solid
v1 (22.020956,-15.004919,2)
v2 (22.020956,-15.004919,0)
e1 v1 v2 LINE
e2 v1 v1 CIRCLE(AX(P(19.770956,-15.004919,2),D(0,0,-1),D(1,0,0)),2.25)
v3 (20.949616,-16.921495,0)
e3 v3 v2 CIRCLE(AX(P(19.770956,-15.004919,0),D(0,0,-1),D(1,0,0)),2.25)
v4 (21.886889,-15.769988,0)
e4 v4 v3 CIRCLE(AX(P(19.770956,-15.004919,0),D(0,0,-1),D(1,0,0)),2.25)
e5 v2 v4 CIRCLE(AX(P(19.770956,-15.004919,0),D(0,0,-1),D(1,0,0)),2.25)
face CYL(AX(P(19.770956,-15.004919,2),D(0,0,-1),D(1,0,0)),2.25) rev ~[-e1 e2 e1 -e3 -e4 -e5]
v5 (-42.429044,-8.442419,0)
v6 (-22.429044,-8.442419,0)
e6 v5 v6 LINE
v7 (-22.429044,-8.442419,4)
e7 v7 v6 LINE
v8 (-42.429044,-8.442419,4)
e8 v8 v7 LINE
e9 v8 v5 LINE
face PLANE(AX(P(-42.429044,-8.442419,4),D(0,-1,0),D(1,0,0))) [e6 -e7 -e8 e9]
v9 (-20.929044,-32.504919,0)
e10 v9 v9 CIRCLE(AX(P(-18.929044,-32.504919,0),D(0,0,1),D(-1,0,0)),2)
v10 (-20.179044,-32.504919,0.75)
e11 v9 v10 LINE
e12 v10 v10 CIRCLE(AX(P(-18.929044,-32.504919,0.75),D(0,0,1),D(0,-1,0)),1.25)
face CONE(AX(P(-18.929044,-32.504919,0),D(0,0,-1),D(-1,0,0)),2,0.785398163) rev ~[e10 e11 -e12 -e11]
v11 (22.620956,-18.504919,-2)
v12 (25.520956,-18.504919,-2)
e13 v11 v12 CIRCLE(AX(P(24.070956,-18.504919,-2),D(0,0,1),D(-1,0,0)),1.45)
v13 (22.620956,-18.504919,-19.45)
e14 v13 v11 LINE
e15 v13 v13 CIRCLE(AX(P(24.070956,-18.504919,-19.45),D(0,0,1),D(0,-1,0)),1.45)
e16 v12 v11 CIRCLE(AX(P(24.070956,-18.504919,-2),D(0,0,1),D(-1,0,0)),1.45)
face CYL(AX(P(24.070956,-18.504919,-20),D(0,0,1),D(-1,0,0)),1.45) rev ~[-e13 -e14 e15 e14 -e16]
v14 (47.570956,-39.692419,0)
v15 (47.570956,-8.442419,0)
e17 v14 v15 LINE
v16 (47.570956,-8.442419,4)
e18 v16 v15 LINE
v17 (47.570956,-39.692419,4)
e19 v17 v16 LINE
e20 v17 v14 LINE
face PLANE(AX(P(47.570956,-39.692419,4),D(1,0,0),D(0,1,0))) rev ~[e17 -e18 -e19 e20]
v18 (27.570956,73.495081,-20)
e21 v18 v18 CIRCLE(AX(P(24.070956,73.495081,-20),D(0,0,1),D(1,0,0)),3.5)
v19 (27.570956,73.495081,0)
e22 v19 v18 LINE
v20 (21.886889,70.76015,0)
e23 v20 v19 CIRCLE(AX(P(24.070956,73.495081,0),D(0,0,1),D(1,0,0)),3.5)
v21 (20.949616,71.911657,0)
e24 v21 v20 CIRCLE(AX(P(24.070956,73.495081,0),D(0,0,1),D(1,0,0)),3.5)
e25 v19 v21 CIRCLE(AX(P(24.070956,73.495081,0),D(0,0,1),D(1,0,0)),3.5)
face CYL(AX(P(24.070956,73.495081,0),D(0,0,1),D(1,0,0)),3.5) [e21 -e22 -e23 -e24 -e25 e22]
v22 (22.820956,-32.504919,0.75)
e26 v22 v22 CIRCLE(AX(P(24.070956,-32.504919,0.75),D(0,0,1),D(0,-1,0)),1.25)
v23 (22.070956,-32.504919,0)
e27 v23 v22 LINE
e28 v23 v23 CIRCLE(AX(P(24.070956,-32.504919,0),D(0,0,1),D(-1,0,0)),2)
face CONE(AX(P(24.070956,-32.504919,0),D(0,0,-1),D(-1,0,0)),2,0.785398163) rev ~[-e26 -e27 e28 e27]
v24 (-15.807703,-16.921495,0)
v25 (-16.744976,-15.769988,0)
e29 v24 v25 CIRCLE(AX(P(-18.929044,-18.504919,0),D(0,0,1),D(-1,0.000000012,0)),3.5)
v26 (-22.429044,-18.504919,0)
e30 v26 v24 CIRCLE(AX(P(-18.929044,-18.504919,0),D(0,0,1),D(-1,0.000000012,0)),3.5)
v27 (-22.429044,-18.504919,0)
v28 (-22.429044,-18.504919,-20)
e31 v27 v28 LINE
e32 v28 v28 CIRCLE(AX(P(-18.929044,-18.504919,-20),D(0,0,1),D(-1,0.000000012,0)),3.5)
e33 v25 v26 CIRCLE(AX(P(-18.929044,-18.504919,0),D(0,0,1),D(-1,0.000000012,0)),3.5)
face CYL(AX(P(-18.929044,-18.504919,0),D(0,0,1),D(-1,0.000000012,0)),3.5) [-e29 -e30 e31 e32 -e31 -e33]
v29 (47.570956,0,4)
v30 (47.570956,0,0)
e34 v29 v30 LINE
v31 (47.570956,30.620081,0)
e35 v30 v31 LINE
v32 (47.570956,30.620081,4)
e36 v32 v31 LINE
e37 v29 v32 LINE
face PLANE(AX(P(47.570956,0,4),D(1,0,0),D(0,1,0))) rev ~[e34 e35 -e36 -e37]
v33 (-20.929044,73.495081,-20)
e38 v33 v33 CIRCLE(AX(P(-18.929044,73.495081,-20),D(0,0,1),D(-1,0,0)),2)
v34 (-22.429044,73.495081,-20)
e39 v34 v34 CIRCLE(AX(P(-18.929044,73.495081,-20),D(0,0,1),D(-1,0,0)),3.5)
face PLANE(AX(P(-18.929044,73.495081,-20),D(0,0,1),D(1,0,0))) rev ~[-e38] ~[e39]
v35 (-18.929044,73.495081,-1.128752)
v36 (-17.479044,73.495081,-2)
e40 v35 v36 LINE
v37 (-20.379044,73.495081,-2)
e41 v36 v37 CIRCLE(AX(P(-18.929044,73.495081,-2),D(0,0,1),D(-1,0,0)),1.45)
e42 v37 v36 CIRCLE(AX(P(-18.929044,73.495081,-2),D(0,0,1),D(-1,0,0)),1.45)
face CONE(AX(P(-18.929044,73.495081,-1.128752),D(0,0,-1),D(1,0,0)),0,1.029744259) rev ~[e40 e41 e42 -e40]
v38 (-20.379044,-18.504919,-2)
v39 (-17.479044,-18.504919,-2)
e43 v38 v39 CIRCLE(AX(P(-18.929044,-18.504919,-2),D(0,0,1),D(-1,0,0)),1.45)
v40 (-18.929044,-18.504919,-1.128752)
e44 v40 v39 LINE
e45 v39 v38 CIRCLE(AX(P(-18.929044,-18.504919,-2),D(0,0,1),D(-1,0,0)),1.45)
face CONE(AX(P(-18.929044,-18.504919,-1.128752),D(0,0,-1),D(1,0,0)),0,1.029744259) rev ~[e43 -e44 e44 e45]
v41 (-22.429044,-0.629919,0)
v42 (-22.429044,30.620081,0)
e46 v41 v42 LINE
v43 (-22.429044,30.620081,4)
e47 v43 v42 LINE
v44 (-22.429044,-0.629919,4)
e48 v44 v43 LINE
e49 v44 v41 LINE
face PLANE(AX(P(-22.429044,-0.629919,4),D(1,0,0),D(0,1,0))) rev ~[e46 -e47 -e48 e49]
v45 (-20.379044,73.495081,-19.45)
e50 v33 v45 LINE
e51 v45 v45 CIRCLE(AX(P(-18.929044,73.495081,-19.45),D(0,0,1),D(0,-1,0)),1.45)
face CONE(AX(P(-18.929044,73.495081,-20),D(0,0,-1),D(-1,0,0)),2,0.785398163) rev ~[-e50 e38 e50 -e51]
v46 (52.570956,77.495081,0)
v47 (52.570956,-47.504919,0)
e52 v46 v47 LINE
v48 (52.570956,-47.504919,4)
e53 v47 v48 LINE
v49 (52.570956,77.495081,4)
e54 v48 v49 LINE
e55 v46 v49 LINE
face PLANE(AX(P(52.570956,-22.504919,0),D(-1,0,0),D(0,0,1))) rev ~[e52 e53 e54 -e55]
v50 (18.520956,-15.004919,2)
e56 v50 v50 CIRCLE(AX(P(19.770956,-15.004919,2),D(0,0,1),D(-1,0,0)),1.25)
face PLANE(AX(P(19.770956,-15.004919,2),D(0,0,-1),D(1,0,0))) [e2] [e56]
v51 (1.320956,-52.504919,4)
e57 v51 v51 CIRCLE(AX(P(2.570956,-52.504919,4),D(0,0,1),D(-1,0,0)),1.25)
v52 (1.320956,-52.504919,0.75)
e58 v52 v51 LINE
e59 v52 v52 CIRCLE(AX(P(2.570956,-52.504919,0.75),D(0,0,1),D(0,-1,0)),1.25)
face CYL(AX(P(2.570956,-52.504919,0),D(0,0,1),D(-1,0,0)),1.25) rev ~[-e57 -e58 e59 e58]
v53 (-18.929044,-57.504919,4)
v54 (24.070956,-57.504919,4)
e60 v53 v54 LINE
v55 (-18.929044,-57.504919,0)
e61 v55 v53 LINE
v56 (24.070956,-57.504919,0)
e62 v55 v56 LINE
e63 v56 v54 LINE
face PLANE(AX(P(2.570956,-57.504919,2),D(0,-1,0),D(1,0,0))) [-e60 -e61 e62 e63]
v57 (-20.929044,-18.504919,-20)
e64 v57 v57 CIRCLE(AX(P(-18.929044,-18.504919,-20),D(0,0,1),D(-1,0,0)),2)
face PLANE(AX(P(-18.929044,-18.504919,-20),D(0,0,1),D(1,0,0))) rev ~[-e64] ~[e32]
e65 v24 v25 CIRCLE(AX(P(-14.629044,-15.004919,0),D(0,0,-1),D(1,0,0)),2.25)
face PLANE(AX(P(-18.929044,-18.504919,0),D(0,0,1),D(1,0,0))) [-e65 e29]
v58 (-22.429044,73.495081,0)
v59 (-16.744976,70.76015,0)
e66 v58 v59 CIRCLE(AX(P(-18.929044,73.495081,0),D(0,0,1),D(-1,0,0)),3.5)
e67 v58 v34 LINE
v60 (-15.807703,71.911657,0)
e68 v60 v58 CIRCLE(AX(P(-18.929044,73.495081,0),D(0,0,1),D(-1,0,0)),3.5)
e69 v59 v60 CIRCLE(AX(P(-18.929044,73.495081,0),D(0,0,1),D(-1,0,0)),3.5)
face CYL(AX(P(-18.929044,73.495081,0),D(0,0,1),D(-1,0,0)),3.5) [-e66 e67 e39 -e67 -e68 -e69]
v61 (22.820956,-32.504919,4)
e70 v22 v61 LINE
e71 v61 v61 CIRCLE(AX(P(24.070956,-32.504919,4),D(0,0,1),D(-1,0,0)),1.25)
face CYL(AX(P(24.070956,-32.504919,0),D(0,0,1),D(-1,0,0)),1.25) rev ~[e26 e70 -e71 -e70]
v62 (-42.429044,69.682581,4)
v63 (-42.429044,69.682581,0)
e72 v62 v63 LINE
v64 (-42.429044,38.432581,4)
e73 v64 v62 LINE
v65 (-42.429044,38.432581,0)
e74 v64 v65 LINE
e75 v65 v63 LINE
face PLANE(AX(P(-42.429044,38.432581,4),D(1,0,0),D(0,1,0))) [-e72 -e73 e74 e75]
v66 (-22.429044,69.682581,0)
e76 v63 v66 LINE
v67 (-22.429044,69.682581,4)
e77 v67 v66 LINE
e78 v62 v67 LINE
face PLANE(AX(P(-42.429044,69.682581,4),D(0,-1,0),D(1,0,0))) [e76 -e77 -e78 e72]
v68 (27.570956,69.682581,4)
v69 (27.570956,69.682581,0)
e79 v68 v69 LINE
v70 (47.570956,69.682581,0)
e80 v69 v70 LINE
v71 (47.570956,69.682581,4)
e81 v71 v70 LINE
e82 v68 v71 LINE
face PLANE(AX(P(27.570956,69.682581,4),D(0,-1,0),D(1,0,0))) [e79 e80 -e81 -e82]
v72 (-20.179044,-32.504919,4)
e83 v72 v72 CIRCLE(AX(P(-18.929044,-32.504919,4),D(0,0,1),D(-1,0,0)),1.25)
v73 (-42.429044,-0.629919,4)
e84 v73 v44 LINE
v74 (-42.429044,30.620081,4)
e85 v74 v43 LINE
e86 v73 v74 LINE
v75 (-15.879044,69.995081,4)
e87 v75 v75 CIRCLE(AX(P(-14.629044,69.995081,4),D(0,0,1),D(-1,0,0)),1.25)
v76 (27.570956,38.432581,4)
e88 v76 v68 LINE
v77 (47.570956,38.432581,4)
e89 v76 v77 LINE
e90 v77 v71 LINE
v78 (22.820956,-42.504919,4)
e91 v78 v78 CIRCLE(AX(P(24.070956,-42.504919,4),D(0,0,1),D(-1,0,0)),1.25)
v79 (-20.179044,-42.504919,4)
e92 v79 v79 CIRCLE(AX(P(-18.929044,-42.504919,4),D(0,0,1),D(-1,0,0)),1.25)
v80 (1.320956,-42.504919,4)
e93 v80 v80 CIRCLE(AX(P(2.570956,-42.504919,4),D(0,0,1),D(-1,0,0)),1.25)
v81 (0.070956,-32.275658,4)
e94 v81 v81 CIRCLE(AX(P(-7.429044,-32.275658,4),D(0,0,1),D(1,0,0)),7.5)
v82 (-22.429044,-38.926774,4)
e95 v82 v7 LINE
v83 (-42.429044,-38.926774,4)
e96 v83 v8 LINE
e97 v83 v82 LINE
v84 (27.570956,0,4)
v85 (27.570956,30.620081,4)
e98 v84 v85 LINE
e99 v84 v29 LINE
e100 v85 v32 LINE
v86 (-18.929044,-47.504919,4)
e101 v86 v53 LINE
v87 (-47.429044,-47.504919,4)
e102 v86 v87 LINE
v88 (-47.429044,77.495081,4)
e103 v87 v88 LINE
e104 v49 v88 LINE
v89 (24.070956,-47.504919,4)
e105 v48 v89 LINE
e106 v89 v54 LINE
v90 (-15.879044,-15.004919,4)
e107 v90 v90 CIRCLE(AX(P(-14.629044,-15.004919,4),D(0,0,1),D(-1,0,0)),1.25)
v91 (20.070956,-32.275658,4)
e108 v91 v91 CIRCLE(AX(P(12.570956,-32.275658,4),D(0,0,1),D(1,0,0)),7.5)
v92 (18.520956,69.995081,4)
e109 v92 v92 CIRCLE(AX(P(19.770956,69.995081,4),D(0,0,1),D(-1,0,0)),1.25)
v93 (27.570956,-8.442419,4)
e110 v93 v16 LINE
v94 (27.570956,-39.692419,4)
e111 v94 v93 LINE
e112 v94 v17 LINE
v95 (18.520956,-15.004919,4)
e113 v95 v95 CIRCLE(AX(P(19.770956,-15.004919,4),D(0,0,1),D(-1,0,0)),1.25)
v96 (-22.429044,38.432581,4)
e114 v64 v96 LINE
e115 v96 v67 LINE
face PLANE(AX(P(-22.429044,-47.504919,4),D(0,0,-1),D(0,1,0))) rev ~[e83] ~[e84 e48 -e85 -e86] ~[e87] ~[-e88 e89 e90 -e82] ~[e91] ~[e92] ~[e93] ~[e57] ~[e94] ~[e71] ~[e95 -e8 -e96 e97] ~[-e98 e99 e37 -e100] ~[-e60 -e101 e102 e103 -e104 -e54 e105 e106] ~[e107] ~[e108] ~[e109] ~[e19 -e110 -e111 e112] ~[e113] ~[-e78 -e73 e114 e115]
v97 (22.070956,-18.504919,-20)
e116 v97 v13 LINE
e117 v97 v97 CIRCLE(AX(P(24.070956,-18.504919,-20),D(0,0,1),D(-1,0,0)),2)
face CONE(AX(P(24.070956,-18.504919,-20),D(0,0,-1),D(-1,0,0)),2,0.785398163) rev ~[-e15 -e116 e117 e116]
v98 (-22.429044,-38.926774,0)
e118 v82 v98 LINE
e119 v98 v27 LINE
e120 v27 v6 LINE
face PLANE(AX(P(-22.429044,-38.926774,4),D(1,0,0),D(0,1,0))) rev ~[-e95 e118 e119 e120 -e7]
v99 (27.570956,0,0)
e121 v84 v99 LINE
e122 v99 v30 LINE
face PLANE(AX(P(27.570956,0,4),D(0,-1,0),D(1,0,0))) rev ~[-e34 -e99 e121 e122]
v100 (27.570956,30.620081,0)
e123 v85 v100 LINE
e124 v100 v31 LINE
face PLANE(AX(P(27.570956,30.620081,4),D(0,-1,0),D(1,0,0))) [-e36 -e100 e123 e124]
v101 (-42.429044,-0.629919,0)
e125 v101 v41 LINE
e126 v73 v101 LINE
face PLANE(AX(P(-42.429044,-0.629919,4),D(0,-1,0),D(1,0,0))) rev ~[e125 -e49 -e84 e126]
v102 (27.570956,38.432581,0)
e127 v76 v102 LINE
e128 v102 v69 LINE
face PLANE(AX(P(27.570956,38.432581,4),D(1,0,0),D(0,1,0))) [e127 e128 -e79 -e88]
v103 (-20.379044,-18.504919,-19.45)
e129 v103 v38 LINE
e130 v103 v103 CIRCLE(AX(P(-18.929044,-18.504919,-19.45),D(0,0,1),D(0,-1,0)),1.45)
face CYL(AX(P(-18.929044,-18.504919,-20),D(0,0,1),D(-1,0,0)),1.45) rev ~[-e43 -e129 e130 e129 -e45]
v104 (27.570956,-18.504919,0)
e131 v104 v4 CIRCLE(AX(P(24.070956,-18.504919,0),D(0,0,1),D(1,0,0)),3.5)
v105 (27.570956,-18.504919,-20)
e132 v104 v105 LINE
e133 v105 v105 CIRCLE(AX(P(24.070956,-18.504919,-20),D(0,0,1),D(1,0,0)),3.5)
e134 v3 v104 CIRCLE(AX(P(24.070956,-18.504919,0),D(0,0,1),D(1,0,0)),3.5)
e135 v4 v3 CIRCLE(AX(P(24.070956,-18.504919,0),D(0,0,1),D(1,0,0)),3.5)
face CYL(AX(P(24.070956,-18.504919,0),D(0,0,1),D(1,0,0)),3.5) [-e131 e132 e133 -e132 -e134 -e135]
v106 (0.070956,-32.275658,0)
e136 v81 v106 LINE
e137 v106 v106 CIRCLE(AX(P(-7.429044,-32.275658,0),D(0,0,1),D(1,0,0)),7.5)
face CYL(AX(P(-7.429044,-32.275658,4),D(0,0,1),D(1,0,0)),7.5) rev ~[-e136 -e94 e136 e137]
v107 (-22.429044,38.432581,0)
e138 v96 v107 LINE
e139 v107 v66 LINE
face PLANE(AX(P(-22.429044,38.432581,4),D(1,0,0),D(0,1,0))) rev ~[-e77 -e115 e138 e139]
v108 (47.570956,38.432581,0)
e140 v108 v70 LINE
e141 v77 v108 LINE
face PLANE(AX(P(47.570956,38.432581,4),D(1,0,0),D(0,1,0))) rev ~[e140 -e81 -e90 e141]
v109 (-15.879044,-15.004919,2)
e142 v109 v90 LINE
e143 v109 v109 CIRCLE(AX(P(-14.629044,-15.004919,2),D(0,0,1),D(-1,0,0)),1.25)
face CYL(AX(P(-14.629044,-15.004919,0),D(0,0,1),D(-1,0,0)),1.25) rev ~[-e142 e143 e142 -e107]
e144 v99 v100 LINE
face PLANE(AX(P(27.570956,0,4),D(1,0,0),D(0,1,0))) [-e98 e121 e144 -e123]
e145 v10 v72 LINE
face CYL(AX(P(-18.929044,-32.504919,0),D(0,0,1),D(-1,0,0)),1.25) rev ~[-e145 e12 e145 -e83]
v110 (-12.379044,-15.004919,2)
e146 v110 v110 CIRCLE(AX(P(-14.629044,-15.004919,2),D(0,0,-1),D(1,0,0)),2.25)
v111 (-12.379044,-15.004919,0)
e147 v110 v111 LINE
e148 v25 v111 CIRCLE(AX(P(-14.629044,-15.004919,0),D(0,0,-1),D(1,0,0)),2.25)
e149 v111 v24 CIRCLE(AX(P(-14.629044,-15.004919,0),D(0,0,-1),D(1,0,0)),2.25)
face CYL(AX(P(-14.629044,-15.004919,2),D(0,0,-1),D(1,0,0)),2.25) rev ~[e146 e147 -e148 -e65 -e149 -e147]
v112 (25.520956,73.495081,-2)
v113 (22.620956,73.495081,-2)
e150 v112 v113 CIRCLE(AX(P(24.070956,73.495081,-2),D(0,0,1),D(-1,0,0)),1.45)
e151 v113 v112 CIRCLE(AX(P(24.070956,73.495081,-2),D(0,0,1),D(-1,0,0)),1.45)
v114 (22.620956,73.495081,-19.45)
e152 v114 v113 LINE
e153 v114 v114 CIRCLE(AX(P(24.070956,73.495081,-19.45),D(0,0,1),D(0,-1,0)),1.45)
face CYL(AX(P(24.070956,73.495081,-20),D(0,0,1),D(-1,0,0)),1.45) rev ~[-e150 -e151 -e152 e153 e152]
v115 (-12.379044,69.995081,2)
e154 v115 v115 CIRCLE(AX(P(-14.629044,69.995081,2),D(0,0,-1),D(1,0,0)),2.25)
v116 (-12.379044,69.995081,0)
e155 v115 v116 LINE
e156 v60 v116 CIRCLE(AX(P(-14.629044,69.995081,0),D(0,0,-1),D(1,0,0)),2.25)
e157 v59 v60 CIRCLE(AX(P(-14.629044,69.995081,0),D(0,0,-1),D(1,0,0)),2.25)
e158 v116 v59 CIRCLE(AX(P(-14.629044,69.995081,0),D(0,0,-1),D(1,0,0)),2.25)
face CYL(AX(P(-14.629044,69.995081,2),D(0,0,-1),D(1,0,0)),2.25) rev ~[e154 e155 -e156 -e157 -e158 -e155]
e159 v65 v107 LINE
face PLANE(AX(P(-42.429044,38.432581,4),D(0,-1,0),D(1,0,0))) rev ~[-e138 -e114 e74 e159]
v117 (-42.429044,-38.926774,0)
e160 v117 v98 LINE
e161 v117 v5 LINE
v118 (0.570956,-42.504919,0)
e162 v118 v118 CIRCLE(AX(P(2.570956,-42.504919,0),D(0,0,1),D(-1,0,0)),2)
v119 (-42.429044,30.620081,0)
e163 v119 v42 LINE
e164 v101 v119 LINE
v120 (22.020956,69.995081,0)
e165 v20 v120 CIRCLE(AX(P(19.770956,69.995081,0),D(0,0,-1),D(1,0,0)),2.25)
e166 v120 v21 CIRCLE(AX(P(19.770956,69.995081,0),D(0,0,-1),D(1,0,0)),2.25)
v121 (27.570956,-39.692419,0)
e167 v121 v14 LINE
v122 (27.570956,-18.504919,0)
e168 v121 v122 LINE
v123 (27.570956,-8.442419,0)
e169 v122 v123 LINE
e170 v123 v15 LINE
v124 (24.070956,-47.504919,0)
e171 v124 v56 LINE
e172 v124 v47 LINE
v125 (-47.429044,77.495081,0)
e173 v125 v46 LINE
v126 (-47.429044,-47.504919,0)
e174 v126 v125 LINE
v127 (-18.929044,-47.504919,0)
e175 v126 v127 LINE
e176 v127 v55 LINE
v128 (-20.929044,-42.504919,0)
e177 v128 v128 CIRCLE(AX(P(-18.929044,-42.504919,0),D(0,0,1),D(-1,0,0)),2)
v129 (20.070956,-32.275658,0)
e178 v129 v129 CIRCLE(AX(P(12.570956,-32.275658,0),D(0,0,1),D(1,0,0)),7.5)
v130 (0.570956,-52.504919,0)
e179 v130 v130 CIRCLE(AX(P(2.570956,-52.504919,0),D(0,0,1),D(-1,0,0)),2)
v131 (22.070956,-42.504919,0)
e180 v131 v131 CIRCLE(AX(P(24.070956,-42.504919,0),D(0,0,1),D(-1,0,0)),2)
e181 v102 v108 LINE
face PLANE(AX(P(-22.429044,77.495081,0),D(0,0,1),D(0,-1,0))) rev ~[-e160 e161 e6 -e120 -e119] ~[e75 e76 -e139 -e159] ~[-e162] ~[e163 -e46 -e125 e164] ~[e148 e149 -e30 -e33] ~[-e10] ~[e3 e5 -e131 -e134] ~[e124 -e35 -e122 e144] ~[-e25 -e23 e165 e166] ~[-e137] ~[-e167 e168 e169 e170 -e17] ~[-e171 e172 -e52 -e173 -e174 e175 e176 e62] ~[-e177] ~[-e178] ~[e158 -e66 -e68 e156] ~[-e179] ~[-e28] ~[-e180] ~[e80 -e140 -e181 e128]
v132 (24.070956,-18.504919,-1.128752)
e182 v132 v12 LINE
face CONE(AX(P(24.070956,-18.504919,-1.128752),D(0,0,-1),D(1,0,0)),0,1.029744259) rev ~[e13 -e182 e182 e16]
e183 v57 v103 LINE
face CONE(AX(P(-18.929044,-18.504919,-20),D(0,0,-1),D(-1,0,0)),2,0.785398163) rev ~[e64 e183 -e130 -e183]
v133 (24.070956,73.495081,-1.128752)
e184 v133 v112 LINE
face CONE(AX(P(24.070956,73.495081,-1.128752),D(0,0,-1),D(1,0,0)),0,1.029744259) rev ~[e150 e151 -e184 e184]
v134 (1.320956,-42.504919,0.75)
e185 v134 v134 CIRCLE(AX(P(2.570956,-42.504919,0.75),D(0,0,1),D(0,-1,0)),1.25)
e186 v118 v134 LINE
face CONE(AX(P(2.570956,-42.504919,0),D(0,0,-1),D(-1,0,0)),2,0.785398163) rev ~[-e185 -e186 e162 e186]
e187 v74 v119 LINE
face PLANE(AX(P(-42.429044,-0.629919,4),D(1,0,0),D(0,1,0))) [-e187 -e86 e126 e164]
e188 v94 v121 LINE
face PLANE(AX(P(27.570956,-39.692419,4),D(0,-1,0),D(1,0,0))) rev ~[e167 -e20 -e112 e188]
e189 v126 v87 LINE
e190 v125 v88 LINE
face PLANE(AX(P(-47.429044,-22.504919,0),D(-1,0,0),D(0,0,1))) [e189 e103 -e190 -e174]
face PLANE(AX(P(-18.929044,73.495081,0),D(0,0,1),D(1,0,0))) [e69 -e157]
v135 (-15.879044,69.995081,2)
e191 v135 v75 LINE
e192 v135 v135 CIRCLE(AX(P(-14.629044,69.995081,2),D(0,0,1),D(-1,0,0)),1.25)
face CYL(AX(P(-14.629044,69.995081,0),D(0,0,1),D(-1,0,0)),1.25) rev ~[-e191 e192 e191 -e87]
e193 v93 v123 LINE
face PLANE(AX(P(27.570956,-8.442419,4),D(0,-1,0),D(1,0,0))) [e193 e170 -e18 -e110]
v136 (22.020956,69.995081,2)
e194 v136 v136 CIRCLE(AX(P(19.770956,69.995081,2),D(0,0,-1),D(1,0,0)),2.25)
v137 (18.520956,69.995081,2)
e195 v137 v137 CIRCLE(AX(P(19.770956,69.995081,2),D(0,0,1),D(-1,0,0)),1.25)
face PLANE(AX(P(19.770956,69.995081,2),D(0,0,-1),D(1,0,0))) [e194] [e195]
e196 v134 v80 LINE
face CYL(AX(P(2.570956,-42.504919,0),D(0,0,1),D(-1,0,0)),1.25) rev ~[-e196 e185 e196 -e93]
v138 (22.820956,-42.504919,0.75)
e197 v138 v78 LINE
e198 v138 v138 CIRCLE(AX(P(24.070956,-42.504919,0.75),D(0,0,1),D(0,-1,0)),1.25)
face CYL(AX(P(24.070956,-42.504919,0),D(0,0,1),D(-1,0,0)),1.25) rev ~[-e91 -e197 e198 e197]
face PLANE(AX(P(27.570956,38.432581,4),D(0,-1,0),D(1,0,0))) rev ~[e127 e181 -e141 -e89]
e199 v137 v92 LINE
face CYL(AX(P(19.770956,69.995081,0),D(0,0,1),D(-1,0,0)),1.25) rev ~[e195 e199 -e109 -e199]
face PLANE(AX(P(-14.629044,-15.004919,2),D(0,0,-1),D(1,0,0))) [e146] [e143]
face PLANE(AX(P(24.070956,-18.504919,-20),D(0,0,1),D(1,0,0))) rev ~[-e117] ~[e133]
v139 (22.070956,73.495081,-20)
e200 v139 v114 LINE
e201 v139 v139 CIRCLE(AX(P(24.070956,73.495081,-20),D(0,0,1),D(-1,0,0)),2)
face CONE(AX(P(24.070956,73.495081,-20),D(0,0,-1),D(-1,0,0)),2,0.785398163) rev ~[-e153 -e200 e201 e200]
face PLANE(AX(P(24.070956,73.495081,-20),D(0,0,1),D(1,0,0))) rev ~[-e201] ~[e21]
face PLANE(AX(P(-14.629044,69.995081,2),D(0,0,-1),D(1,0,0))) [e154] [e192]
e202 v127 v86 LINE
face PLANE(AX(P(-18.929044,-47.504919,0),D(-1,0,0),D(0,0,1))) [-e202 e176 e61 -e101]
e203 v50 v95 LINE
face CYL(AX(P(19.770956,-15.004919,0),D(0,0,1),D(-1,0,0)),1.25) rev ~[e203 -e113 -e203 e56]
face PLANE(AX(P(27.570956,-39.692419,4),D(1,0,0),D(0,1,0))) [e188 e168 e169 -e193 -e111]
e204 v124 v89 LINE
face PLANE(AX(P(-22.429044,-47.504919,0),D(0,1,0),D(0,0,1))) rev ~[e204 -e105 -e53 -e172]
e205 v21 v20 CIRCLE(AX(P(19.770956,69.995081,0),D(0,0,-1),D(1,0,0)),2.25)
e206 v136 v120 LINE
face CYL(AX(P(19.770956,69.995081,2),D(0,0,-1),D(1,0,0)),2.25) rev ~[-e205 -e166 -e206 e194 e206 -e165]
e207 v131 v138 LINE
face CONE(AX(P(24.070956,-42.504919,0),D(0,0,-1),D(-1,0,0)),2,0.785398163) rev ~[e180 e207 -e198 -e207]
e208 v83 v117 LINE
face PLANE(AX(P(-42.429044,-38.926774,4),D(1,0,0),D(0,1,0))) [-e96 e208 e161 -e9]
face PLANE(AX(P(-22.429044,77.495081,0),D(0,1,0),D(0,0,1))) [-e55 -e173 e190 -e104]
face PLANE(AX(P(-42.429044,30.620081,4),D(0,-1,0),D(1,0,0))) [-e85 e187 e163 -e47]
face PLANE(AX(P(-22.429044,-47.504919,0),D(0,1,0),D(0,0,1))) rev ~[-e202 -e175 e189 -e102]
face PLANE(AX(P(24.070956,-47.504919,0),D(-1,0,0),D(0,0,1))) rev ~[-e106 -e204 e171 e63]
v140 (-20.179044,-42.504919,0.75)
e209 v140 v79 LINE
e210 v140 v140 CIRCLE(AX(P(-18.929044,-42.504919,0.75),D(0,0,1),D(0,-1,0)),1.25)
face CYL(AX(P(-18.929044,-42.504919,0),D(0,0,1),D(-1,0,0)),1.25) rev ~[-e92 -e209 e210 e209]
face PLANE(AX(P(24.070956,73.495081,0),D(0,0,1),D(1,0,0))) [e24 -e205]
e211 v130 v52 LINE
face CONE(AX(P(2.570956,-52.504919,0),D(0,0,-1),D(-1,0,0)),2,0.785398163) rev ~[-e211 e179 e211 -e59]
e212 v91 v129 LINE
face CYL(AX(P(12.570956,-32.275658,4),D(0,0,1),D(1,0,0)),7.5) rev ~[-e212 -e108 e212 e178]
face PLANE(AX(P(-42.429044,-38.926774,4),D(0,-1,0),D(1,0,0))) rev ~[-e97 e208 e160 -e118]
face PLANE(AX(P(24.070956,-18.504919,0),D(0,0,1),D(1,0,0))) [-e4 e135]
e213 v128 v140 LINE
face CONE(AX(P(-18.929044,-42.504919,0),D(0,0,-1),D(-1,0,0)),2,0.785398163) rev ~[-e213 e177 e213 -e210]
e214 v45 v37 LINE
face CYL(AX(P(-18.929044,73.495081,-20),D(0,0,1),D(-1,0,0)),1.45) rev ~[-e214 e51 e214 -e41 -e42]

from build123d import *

# Parameters (mm, degrees)
F4_R            = 3.5
F5_DEPTH        = 4
F6_D            = 2.5
F6_CBORE_D      = 4.5
F6_CBORE_DEPTH  = 2
F7_DEPTH        = 20
F9_D            = 2.9
F9_DEPTH        = 18
F9_CSINK_D      = 4
F9_CSINK_ANGLE  = 90
F9_TIP          = 0.8712478976
F11_D           = 2.9
F11_DEPTH       = 18
F11_CSINK_D     = 4
F11_CSINK_ANGLE = 90
F11_TIP         = 0.8712478976
F13_D           = 2.9
F13_DEPTH       = 18
F13_CSINK_D     = 4
F13_CSINK_ANGLE = 90
F13_TIP         = 0.8712478976
F15_D           = 2.9
F15_DEPTH       = 18
F15_CSINK_D     = 4
F15_CSINK_ANGLE = 90
F15_TIP         = 0.8712478976
F16_DEPTH       = 25
F18_DEPTH       = 25
F19_DEPTH       = 25
F20_W           = 20
F20_H           = 30.4843550548
F20_H_2         = 31.25
F20_H_3         = 30.620081059
F21_DEPTH       = 4
F17_R           = 7.5
F22_DEPTH       = 4
F23_W           = 43
F23_H           = 4
F24_DEPTH       = 10
F26_D           = 2.5
F26_DEPTH       = 15
F26_CSINK_D     = 4
F26_CSINK_ANGLE = 90
F26_TIP         = 0.7510757738
F27_D           = 2.5
F27_DEPTH       = 15
F27_CSINK_D     = 4
F27_CSINK_ANGLE = 90
F27_TIP         = 0.7510757738


with BuildPart() as f5:
    # F4 (on Top) → F5 (new body)
    with BuildSketch(Plane.XY):
        Polygon((27.5709562153, 77.495081059), (-22.4290437847, 77.495081059), (-22.4290437847, 73.495081059), (-22.4290437847, -18.5049188996), (-22.4290437847, -22.504918941), (27.5709562153, -22.504918941), (27.5709562153, -18.504918941), (27.5709562153, 73.495081059), align=None)
        with BuildLine():
            ThreePointArc((-15.4290437847, -18.504918941), (-18.9290438054, -22.004918941), (-22.4290437847, -18.5049188996))
            ThreePointArc((-22.4290437847, -18.5049188996), (-18.9290437641, -15.004918941), (-15.4290437847, -18.504918941))
        make_face(mode=Mode.SUBTRACT)
        with Locations((24.0709562153, -18.504918941)):
            Circle(F4_R, mode=Mode.SUBTRACT)
        with BuildLine():
            ThreePointArc((-15.4290437847, 73.495081059), (-18.9290437847, 69.995081059), (-22.4290437847, 73.495081059))
            ThreePointArc((-22.4290437847, 73.495081059), (-18.9290437847, 76.995081059), (-15.4290437847, 73.495081059))
        make_face(mode=Mode.SUBTRACT)
        with Locations((24.0709562153, 73.495081059)):
            Circle(F4_R, mode=Mode.SUBTRACT)
        with BuildLine():
            ThreePointArc((-15.4290437847, -18.504918941), (-18.9290437641, -15.004918941), (-22.4290437847, -18.5049188996))
            ThreePointArc((-22.4290437847, -18.5049188996), (-18.9290438054, -22.004918941), (-15.4290437847, -18.504918941))
        make_face()
        with Locations((24.0709562153, -18.504918941)):
            Circle(F4_R)
        with BuildLine():
            ThreePointArc((-15.4290437847, 73.495081059), (-18.9290437847, 76.995081059), (-22.4290437847, 73.495081059))
            ThreePointArc((-22.4290437847, 73.495081059), (-18.9290437847, 69.995081059), (-15.4290437847, 73.495081059))
        make_face()
        with Locations((24.0709562153, 73.495081059)):
            Circle(F4_R)
    extrude(amount=F5_DEPTH)

    # F6 (through all)
    with Locations(Plane(origin=(0, 0, 0), x_dir=(1, 0, 0), z_dir=(0, 0, -1))):
        with Locations((19.7709562153, -69.995081059), (19.7709562153, 15.004918941), (-14.6290437847, 15.004918941), (-14.6290437847, -69.995081059)):
            CounterBoreHole(F6_D / 2, F6_CBORE_D / 2, F6_CBORE_DEPTH)

    # F4 (on Top) → F7 (join)
    with BuildSketch(Plane.XY):
        with BuildLine():
            ThreePointArc((-15.4290437847, -18.504918941), (-18.9290437641, -15.004918941), (-22.4290437847, -18.5049188996))
            ThreePointArc((-22.4290437847, -18.5049188996), (-18.9290438054, -22.004918941), (-15.4290437847, -18.504918941))
        make_face()
        with Locations((24.0709562153, -18.504918941)):
            Circle(F4_R)
        with BuildLine():
            ThreePointArc((-15.4290437847, 73.495081059), (-18.9290437847, 76.995081059), (-22.4290437847, 73.495081059))
            ThreePointArc((-22.4290437847, 73.495081059), (-18.9290437847, 69.995081059), (-15.4290437847, 73.495081059))
        make_face()
        with Locations((24.0709562153, 73.495081059)):
            Circle(F4_R)
    extrude(amount=-F7_DEPTH)

    # F9
    with Locations(Plane(origin=(0, 0, -20), x_dir=(1, 0, 0), z_dir=(0, 0, -1))):
        with Locations((-18.9290437847, -73.495081059)):
            CounterSinkHole(F9_D / 2, F9_CSINK_D / 2, depth=F9_DEPTH, counter_sink_angle=F9_CSINK_ANGLE)
            with Locations((0, 0, -(F9_DEPTH + F9_TIP / 2))):  # 118° drill point
                Cone(0, F9_D / 2, F9_TIP, mode=Mode.SUBTRACT)

    # F11
    with Locations(Plane(origin=(0, 0, -20), x_dir=(1, 0, 0), z_dir=(0, 0, -1))):
        with Locations((-18.9290437847, 18.504918941)):
            CounterSinkHole(F11_D / 2, F11_CSINK_D / 2, depth=F11_DEPTH, counter_sink_angle=F11_CSINK_ANGLE)
            with Locations((0, 0, -(F11_DEPTH + F11_TIP / 2))):  # 118° drill point
                Cone(0, F11_D / 2, F11_TIP, mode=Mode.SUBTRACT)

    # F13
    with Locations(Plane(origin=(0, 0, -20), x_dir=(1, 0, 0), z_dir=(0, 0, -1))):
        with Locations((24.0709562153, -73.495081059)):
            CounterSinkHole(F13_D / 2, F13_CSINK_D / 2, depth=F13_DEPTH, counter_sink_angle=F13_CSINK_ANGLE)
            with Locations((0, 0, -(F13_DEPTH + F13_TIP / 2))):  # 118° drill point
                Cone(0, F13_D / 2, F13_TIP, mode=Mode.SUBTRACT)

    # F15
    with Locations(Plane(origin=(0, 0, -20), x_dir=(1, 0, 0), z_dir=(0, 0, -1))):
        with Locations((24.0709562153, 18.504918941)):
            CounterSinkHole(F15_D / 2, F15_CSINK_D / 2, depth=F15_DEPTH, counter_sink_angle=F15_CSINK_ANGLE)
            with Locations((0, 0, -(F15_DEPTH + F15_TIP / 2))):  # 118° drill point
                Cone(0, F15_D / 2, F15_TIP, mode=Mode.SUBTRACT)

    # F16 (add): a face of the model
    f16_faces = [f5.faces().sort_by_distance(p)[0] for p in [
        (2.5709562153, -22.504918941, 2),
    ]]
    extrude(f16_faces, amount=F16_DEPTH)

    # F18 (add): a face of the model
    f18_faces = [f5.faces().sort_by_distance(p)[0] for p in [
        (27.5709562153, 14.995081059, 2),
    ]]
    extrude(f18_faces, amount=F18_DEPTH)

    # F19 (add): a face of the model
    f19_faces = [f5.faces().sort_by_distance(p)[0] for p in [
        (-22.4290437847, 14.995081059, 2),
    ]]
    extrude(f19_faces, amount=F19_DEPTH)

    # F20 (on face) → F21 (cut)
    with BuildSketch(Plane.XY.offset(4)):
        with Locations((-32.4290437847, -23.6845964684)):
            Rectangle(F20_W, F20_H)
        with Locations((-32.4290437847, 14.995081059)):
            Rectangle(F20_W, F20_H_2)
        with Locations((-32.4290437847, 54.057581059)):
            Rectangle(F20_W, F20_H_2)
        with Locations((37.5709562153, 54.057581059)):
            Rectangle(F20_W, F20_H_2)
        with Locations((37.5709562153, 15.3100405295)):
            Rectangle(F20_W, F20_H_3)
        with Locations((37.5709562153, -24.067418941)):
            Rectangle(F20_W, F20_H_2)
    extrude(amount=-F21_DEPTH, mode=Mode.SUBTRACT)

    # F17 (on face) → F22 (cut)
    with BuildSketch(Plane.XY.offset(4)):
        with Locations((-7.4290437847, -32.2756583249)):
            Circle(F17_R)
        with Locations((12.5709562153, -32.2756583249)):
            Circle(F17_R)
    extrude(amount=-F22_DEPTH, mode=Mode.SUBTRACT)

    # F23 (on face) → F24 (join)
    with BuildSketch(Plane.XZ.offset(47.504918941)):
        with Locations((2.5709562153, 2)):
            Rectangle(F23_W, F23_H)
    extrude(amount=F24_DEPTH)

    # F26
    with Locations(Plane(origin=(0, 0, 0), x_dir=(1, 0, 0), z_dir=(0, 0, -1))):
        with Locations((2.5709562153, 52.504918941), (2.5709562153, 42.504918941)):
            CounterSinkHole(F26_D / 2, F26_CSINK_D / 2, depth=F26_DEPTH, counter_sink_angle=F26_CSINK_ANGLE)
            with Locations((0, 0, -(F26_DEPTH + F26_TIP / 2))):  # 118° drill point
                Cone(0, F26_D / 2, F26_TIP, mode=Mode.SUBTRACT)

    # F27
    with Locations(Plane(origin=(0, 0, 0), x_dir=(1, 0, 0), z_dir=(0, 0, -1))):
        with Locations((-18.9290437847, 42.504918941), (-18.9290437847, 32.504918941), (24.0709562153, 32.504918941), (24.0709562153, 42.504918941)):
            CounterSinkHole(F27_D / 2, F27_CSINK_D / 2, depth=F27_DEPTH, counter_sink_angle=F27_CSINK_ANGLE)
            with Locations((0, 0, -(F27_DEPTH + F27_TIP / 2))):  # 118° drill point
                Cone(0, F27_D / 2, F27_TIP, mode=Mode.SUBTRACT)


solid = f5.part
